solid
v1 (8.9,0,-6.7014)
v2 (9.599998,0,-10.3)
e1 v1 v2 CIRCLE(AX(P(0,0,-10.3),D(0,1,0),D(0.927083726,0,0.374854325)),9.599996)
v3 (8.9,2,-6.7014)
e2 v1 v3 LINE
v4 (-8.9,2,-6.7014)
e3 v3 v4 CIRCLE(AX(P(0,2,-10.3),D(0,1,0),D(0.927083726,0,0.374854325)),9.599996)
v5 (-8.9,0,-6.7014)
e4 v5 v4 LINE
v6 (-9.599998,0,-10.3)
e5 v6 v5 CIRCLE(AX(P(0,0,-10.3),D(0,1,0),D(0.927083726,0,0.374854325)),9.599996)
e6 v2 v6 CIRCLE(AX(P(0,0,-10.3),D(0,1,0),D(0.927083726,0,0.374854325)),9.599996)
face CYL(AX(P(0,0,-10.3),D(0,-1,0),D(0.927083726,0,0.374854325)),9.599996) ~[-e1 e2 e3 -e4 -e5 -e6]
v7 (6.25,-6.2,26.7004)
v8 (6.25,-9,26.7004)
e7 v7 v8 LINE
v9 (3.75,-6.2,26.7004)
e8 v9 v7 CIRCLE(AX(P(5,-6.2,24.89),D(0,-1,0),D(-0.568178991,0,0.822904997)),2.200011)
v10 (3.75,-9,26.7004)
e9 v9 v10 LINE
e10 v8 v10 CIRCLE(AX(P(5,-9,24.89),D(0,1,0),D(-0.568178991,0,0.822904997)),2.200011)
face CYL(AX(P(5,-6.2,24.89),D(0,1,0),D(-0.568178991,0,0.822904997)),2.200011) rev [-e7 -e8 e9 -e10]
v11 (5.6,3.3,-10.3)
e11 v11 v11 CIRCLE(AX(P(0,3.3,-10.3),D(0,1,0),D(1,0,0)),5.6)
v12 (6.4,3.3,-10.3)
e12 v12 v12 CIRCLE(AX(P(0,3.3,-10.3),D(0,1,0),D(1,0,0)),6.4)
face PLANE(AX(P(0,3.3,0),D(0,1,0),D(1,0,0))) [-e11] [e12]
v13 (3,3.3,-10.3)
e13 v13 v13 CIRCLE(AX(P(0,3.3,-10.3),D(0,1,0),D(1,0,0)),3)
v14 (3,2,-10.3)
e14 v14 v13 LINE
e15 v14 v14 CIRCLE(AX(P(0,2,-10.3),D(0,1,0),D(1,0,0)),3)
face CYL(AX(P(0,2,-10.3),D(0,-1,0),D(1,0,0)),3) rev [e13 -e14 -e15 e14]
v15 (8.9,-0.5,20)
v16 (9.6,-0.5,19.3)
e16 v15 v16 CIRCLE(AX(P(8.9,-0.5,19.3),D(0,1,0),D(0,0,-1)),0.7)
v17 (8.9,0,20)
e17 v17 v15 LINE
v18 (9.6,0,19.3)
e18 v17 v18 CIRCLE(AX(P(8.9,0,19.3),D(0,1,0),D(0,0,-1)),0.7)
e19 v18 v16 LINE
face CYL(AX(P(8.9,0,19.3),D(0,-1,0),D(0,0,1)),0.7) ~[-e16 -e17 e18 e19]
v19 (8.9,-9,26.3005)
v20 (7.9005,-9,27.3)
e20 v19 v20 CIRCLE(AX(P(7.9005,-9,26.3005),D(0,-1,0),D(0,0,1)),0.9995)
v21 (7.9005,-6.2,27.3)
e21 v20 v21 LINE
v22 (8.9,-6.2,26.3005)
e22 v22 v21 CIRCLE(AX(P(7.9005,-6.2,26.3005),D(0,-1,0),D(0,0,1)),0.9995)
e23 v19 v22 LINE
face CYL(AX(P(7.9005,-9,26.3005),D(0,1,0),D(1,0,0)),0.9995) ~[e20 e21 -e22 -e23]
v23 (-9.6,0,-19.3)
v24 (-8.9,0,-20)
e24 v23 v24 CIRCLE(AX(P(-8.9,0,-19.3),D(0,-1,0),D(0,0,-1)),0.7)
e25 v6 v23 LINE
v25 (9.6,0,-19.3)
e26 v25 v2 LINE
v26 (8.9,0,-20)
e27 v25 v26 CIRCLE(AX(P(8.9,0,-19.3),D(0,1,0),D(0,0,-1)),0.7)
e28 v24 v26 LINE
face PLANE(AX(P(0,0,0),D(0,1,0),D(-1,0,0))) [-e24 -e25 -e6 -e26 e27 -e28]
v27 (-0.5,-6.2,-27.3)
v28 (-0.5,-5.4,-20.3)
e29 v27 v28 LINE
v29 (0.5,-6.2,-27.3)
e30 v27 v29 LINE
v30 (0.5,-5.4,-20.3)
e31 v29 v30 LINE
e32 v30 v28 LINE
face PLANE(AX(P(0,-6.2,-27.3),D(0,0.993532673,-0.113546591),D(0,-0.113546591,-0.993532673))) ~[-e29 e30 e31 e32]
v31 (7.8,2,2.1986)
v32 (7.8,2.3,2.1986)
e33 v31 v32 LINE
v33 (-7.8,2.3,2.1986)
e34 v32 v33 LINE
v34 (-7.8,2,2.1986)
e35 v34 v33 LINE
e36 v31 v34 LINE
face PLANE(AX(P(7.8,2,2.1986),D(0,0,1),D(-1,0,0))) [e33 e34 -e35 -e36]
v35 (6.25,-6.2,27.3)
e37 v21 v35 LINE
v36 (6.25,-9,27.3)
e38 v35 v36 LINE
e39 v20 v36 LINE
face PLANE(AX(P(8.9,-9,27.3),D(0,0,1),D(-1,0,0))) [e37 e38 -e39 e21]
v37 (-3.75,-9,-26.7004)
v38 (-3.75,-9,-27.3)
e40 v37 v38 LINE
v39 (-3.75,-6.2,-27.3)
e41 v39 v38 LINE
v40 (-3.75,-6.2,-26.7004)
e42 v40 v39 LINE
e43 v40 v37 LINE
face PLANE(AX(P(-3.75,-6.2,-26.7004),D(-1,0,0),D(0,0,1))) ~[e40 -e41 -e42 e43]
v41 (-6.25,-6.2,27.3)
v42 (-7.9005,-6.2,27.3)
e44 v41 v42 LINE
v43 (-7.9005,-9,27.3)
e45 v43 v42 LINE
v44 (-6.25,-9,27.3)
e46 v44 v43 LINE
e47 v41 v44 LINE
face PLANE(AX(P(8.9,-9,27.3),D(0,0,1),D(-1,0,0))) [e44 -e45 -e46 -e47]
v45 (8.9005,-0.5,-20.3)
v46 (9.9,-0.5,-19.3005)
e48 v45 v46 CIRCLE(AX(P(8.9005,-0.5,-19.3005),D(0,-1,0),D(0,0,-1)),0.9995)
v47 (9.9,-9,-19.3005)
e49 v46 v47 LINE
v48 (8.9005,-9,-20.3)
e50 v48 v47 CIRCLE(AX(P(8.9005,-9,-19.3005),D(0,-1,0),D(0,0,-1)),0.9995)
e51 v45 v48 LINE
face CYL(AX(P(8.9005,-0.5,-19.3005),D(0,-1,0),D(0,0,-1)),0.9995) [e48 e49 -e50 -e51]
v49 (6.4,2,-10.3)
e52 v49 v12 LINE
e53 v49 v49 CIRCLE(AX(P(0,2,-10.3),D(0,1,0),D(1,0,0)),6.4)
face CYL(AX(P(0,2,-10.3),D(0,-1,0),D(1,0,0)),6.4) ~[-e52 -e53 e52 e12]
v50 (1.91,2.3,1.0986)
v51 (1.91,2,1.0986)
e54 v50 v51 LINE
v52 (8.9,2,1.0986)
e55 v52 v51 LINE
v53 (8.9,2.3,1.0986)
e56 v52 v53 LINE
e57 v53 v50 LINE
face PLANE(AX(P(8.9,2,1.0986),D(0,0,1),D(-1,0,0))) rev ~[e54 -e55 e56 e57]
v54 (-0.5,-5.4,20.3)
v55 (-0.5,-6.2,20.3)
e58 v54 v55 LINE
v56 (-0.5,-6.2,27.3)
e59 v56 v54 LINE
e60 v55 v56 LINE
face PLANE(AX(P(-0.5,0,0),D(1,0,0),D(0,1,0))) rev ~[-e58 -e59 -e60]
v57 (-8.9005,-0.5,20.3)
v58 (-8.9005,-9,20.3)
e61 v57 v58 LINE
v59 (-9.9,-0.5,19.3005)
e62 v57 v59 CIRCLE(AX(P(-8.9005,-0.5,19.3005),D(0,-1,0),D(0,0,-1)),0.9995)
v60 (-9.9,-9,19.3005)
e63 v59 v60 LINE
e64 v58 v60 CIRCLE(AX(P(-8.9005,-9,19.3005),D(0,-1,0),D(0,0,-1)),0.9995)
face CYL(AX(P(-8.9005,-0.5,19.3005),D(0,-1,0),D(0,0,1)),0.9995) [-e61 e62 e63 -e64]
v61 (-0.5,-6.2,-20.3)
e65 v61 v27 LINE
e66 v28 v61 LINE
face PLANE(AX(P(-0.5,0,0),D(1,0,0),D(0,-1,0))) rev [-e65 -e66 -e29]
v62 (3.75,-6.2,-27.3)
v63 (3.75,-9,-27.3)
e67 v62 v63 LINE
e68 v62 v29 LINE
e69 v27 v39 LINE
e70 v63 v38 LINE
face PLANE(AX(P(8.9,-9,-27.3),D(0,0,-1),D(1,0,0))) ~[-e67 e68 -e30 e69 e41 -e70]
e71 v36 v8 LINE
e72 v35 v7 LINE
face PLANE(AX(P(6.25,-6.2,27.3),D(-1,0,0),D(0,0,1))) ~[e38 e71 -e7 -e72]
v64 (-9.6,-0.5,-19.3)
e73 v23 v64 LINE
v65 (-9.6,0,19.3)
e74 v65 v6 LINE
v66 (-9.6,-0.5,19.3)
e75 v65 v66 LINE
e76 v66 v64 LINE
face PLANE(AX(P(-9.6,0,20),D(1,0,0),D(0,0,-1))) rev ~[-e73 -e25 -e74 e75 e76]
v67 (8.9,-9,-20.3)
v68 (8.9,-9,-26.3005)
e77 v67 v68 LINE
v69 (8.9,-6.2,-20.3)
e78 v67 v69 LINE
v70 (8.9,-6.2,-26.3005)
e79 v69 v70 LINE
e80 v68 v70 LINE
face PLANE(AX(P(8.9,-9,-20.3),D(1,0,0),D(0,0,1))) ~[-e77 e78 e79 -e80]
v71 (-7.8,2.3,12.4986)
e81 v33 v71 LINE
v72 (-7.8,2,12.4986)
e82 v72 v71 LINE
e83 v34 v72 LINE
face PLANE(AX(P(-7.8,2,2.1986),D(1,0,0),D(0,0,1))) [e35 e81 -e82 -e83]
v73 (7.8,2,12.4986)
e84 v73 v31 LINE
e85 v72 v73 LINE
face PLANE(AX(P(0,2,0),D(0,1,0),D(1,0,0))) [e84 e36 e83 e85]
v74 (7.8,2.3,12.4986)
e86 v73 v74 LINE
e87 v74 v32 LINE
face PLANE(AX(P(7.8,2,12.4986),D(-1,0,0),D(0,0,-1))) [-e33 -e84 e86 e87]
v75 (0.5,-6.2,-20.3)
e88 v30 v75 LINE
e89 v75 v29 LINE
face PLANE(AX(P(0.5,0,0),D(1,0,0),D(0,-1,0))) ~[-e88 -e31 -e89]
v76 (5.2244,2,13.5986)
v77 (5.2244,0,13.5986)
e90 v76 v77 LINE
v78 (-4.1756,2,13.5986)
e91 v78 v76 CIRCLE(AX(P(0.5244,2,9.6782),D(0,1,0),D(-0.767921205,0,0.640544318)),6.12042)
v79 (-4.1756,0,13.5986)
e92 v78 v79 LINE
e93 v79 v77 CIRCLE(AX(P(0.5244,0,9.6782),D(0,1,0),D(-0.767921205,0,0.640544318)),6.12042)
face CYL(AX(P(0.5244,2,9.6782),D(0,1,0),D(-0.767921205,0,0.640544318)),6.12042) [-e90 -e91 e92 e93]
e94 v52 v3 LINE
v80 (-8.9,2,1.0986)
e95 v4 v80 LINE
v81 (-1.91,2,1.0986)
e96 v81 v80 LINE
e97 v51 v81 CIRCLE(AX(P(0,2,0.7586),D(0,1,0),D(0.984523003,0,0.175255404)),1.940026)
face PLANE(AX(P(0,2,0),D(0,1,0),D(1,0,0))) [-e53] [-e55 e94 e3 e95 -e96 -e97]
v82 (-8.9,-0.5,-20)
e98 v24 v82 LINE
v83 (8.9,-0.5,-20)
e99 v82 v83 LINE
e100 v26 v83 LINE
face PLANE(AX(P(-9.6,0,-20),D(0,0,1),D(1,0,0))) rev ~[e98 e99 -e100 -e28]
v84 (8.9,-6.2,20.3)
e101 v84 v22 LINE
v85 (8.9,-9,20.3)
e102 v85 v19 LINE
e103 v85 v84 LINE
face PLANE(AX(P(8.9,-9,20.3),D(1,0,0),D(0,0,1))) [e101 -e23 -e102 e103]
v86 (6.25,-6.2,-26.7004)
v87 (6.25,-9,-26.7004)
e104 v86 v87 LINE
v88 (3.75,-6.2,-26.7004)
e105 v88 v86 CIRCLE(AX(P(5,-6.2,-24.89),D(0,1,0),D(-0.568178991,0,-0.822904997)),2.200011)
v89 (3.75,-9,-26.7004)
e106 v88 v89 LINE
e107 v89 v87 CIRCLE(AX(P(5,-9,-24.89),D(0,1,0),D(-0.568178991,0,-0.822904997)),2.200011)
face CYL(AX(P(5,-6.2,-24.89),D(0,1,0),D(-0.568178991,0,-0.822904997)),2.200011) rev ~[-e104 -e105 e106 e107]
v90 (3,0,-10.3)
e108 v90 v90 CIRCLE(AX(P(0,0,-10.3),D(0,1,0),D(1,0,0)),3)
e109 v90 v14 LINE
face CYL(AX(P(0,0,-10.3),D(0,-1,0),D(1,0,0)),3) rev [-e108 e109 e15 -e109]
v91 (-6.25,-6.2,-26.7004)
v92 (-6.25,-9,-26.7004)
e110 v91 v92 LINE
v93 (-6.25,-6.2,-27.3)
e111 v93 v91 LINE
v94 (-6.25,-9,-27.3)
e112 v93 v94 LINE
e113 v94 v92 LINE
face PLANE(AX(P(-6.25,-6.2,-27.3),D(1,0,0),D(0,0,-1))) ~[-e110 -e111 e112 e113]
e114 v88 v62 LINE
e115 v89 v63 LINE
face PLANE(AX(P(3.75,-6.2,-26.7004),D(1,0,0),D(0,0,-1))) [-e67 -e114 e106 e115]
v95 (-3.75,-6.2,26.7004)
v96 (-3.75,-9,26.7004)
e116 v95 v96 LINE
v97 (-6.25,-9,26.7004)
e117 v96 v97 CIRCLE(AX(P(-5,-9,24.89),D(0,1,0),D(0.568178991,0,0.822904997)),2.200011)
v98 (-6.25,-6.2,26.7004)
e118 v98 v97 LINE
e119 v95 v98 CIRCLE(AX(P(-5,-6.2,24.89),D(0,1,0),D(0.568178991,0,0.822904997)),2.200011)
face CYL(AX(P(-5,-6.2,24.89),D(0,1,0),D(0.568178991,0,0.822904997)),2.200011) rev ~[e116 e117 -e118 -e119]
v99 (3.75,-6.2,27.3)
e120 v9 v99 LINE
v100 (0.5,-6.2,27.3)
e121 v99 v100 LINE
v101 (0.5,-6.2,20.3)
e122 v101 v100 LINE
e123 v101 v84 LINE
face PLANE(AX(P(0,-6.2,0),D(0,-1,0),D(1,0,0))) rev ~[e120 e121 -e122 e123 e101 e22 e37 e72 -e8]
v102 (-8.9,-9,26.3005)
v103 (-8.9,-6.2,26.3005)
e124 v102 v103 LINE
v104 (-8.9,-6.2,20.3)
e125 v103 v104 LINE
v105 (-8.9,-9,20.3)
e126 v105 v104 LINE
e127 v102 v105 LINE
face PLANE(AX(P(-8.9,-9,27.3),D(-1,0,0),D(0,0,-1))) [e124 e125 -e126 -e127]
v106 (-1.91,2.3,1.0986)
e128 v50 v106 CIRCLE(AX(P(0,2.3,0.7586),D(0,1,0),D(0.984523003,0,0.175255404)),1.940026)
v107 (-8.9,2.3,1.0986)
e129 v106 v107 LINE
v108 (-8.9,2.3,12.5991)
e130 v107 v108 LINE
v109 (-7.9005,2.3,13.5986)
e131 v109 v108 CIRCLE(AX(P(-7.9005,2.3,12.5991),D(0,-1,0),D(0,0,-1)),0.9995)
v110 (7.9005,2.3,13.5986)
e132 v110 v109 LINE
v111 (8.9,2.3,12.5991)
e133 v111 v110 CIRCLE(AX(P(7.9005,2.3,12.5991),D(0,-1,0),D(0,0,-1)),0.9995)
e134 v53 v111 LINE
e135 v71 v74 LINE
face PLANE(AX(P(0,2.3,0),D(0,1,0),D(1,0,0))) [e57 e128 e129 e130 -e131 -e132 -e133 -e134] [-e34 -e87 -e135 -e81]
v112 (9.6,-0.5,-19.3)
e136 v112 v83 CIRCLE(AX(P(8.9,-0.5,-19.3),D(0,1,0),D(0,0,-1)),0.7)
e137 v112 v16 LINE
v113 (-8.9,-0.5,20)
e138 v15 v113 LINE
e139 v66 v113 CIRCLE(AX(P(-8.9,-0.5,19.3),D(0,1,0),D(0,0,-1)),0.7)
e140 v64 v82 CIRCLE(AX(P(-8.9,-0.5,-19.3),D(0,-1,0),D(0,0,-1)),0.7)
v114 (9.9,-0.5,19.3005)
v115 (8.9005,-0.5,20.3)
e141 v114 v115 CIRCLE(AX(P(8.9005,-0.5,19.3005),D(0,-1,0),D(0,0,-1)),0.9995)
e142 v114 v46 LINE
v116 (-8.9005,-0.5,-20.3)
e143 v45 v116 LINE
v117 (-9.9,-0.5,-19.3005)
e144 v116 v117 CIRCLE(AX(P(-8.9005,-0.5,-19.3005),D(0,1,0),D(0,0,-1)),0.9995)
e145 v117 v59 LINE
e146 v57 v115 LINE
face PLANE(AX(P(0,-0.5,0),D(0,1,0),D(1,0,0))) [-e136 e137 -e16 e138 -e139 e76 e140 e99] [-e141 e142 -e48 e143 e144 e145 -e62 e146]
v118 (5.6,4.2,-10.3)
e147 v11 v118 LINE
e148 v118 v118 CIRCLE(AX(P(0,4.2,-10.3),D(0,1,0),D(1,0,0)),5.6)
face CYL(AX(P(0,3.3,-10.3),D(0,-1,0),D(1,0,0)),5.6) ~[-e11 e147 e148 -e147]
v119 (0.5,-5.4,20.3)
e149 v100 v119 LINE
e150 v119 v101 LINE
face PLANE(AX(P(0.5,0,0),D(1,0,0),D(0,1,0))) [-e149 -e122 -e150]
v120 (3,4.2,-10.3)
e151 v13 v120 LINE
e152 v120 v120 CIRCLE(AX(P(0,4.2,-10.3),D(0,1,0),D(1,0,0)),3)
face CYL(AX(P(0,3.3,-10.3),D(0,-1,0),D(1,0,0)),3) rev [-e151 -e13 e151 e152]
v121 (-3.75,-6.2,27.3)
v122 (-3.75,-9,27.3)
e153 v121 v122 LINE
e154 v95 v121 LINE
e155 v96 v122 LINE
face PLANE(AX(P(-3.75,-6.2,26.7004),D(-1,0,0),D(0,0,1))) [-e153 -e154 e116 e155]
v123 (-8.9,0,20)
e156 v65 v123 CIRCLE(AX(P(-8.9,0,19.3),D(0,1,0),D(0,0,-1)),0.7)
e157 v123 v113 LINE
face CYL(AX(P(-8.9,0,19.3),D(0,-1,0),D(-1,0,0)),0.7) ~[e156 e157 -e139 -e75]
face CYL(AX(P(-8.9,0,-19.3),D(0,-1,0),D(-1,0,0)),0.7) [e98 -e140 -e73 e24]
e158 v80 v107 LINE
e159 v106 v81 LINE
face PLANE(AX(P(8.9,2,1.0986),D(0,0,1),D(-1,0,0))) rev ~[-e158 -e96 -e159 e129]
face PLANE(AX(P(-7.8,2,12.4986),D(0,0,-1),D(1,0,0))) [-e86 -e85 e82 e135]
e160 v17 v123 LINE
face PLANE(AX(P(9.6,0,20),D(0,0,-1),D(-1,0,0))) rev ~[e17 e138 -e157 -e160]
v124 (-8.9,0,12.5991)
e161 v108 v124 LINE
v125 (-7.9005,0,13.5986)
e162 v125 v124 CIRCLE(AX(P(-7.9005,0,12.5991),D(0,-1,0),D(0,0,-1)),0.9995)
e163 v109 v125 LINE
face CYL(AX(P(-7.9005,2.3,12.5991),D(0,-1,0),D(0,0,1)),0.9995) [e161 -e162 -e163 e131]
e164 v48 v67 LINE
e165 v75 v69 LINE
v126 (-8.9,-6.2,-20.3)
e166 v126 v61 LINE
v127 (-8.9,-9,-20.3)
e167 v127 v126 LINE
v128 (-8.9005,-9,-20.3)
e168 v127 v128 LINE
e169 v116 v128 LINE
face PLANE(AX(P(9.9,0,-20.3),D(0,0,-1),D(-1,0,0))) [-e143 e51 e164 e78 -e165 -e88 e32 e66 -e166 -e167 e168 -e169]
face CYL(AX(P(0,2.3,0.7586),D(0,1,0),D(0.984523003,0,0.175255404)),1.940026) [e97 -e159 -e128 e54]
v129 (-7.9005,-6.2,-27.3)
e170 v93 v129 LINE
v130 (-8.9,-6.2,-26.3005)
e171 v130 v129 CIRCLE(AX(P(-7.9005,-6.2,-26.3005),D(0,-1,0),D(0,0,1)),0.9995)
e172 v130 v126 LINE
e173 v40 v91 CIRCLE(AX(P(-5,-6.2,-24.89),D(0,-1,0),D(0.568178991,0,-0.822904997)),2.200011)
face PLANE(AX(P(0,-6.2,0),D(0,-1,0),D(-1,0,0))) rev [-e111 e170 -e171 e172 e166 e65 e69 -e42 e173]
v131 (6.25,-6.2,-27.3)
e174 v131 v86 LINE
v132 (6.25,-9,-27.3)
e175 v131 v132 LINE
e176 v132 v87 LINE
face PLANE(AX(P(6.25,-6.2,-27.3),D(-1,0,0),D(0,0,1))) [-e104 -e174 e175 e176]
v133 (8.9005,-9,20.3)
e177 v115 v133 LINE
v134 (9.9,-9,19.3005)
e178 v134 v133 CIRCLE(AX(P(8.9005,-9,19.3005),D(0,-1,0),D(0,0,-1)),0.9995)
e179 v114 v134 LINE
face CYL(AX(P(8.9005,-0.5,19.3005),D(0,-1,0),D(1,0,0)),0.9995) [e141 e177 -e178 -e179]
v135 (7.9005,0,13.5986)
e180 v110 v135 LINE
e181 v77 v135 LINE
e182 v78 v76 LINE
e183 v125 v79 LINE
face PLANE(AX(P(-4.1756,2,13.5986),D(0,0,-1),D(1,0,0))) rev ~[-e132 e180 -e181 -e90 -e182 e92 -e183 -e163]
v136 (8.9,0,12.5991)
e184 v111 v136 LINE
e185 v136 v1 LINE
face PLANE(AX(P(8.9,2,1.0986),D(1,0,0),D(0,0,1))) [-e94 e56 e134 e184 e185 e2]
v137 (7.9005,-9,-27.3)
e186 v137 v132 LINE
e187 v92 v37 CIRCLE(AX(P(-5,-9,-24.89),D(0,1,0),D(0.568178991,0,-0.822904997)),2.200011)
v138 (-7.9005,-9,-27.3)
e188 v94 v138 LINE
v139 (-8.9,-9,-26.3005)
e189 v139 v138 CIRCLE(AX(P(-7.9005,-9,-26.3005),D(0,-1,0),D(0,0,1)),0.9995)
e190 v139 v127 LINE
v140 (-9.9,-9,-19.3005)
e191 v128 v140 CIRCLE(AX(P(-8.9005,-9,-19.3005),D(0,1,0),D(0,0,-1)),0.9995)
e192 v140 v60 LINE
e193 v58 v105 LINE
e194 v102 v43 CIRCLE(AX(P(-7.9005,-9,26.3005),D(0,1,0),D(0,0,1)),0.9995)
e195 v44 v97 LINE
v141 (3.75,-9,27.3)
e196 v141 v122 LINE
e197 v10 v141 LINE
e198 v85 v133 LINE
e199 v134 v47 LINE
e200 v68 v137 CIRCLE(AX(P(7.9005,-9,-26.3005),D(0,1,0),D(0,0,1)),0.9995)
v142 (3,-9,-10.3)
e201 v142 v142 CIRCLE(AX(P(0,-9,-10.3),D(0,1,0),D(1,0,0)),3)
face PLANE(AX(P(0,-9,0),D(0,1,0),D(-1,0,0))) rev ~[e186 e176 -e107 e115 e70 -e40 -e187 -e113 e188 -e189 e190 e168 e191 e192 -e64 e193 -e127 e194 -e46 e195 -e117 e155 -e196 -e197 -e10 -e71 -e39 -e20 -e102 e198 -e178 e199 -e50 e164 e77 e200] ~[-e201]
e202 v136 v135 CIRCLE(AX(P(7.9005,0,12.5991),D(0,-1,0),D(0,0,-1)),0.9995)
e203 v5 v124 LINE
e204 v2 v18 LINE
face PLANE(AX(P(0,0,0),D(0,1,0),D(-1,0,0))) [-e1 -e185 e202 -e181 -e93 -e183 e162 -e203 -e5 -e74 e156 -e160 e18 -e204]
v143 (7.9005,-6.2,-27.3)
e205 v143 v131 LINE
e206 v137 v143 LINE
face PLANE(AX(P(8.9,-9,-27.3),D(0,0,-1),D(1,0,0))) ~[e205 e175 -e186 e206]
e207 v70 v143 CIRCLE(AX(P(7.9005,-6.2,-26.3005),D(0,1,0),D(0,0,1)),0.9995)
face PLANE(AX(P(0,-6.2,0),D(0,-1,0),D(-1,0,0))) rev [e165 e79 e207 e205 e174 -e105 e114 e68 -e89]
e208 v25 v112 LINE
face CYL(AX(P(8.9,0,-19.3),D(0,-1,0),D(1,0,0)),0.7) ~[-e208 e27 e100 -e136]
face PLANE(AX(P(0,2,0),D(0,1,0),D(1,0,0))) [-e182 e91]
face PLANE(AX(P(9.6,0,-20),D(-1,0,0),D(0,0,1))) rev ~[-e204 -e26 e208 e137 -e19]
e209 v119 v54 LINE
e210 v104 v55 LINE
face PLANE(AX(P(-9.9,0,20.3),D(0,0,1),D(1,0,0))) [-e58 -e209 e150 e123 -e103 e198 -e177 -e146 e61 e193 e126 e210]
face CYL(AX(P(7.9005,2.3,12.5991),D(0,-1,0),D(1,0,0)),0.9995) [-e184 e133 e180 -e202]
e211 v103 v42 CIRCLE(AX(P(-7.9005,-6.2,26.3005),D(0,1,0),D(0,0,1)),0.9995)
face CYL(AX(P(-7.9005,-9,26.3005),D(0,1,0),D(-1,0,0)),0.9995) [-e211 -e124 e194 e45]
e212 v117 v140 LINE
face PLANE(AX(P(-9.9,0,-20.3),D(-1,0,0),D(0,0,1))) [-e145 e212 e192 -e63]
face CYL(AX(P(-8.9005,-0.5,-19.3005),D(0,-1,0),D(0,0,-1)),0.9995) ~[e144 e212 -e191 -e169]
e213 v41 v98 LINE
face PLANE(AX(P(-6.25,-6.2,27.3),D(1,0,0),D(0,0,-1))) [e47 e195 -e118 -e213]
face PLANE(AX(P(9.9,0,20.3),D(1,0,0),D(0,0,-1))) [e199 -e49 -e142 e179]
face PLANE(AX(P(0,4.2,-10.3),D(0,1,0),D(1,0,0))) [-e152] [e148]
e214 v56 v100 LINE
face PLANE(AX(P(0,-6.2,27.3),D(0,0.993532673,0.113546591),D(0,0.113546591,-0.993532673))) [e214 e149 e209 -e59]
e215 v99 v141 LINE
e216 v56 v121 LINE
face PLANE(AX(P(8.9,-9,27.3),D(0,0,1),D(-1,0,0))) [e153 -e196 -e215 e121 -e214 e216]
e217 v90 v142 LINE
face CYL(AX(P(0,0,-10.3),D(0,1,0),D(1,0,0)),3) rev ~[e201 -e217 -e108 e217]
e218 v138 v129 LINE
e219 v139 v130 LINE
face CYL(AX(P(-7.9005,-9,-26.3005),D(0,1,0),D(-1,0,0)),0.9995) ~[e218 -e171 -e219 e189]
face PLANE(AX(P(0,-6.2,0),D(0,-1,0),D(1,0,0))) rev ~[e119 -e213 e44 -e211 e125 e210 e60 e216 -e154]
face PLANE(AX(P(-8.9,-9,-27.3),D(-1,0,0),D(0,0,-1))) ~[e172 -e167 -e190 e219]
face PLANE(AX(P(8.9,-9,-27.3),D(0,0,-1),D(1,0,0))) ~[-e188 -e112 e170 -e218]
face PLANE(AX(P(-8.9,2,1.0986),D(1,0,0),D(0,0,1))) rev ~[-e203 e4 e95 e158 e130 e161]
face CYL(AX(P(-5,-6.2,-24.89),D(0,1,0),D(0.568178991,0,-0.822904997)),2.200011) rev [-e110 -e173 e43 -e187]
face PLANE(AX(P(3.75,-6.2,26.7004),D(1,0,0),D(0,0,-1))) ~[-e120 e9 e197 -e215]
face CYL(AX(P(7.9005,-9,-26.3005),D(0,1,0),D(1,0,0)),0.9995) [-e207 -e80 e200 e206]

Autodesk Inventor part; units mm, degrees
ref_plane "YZ Plane" through (0, 0, 0) normal (1, 0, 0) x (0, 1, 0)
ref_plane "XZ Plane" through (0, 0, 0) normal (0, 1, 0) x (-1, 0, 0)
ref_plane "XY Plane" through (0, 0, 0) normal (0, 0, 1) x (1, 0, 0)
sketch "Boceto1" plane through (0, 0, 0) normal (0, 1, 0) x (-1, 0, 0)
  line L0 (9.9, 20.3) -> (-9.9, 20.3)
  line L1 (-9.9, 20.3) -> (-9.9, -20.3)
  line L2 (-9.9, -20.3) -> (9.9, -20.3)
  line L3 (9.9, -20.3) -> (9.9, 20.3)
  line L4 (9.9, 20.3) -> (-9.9, -20.3) construction
  line L5 (-9.9, 20.3) -> (9.9, -20.3) construction
  point P0 (0, 0)
  dimension "d0" = 19.8
  dimension "d1" = 40.6
extrude "Extrusión1" add sketch "Boceto1" against normal blind 9
sketch "Boceto2" plane through (0, 0, 0) normal (0, 1, 0) x (1, 0, 0)
  circle A0 centre (0, 10.3) radius 3
  line L0 (9.9, 20.3) -> (-9.9, 20.3) projected
  point P0 (0, 0)
  dimension "d4" = 6
  dimension "d5" = 10
extrude "Extrusión2" cut sketch "Boceto2" against normal through all
sketch "Boceto5" plane through (0, -9, 0) normal (0, -1, 0) x (1, 0, 0)
  line L0 (-8.9, 20.3) -> (8.9, 20.3)
  line L1 (8.9, 20.3) -> (8.9, 27.3)
  line L2 (8.9, 27.3) -> (-8.9, 27.3)
  line L3 (-8.9, 27.3) -> (-8.9, 20.3)
  line L4 (-8.9, 20.3) -> (8.9, 27.3) construction
  line L5 (8.9, 20.3) -> (-8.9, 27.3) construction
  line L6 (-9.9, 27.3) -> (9.9, 27.3)
  line L7 (9.9, 20.3) -> (-9.9, 20.3) projected
  point P0 (0, 0)
  point P1 (0, 0)
  point P2 (0, 23.8)
  dimension "d23" = 17.8
  dimension "d24" = 7
extrude "Extrusión5" add sketch "Boceto5" against normal blind 2.8
sketch "Boceto6" plane through (0, -6.2, 0) normal (0, 1, 0) x (1, 0, 0)
  arc A0 (-3.75, -26.7004) -> (-6.25, -26.7004) centre (-5, -24.89) ccw
  line L0 (-8.9, -27.3) -> (8.9, -27.3)
  line L1 (-3.75, -27.3) -> (-6.25, -27.3)
  line L2 (-6.25, -27.3) -> (-6.25, -26.7)
  line L3 (-3.75, -26.7) -> (-3.75, -27.3)
  line L4 (0, -27.3) -> (0, -23.9124)
  line L5 (-8.9, -20.3) -> (-8.9, -27.3)
  line L6 (-8.9, -20.3) -> (8.9, -20.3) projected
  line L7 (-8.3229, -20.3) -> (8.9, -20.3)
  line L8 (8.9, -20.3) -> (8.9, -27.3)
  point P0 (0, 0)
  point P1 (0, 0)
  dimension "d27" = 4.4
  dimension "d28" = 2.41
  dimension "d29" = 5
  dimension "d30" = 2.65
  dimension "d31" = 0.6
extrude "Extrusión6" cut sketch "Boceto6" against normal through all contours L3 L0 L2 A0
sketch "Boceto8" plane through (0, 0, 0) normal (1, 0, 0) x (0, 1, 0)
  line L0 (-6.2, 27.3) -> (-5.4, 20.3)
  line L1 (-5.4, 20.3) -> (-6.2, 20.3)
  line L2 (-6.2, 20.3) -> (-6.2, 27.3)
  point P0 (0, 0)
  dimension "d34" = 0.8
extrude "Extrusión7" add sketch "Boceto8" along normal mid plane 1
mirror "Simetría3" about plane through (0, 0, 0) normal (1, 0, 0) of "Extrusión6"
mirror "Simetría4" about plane through (0, 0, 0) normal (0, 0, 1) of "Extrusión5", "Extrusión6", "Simetría3", "Extrusión7"
sketch "Boceto9" plane through (0, 0, 0) normal (0, 1, 0) x (1, 0, 0)
  circle A0 centre (0, 10.3) radius 3 projected
  line L0 (-8.9, -13.5986) -> (8.9, -13.5986)
  line L1 (8.9, -13.5986) -> (8.9, 6.7014)
  line L2 (-8.9, 6.7014) -> (-8.9, -13.5986)
  line L3 (-8.9, -13.5986) -> (5.885, 8.9919) construction
  line L4 (8.9, -13.5986) -> (-5.885, 8.9919) construction
  arc A1 (8.9, 6.7014) -> (-8.9, 6.7014) centre (0, 10.3) ccw
  line L5 (9.9, 20.3) -> (-9.9, 20.3) projected
  point P0 (0, 0)
  dimension "d40" = 9.6
  dimension "d42" = 20.3
  dimension "d61" = 17.8
extrude "Extrusión8" add sketch "Boceto9" along normal blind 2
sketch "Boceto11" plane through (0, 2, 0) normal (0, 1, 0) x (1, 0, 0)
  line L0 (-8.9, -13.5986) -> (8.9, -13.5986) projected
  line L1 (5.2244, -15.7986) -> (5.2244, -13.5986)
  arc A0 (-4.1756, -13.5986) -> (5.2244, -13.5986) centre (0.5244, -9.6782) ccw
  line L2 (-4.1756, -13.5986) -> (5.2244, -13.5986)
  point P0 (0, 0)
  dimension "d50" = 2.2
  dimension "d51" = 9.4
extrude "Extrusión9" add sketch "Boceto11" against normal blind 2
sketch "Boceto12" plane through (0, 2, 0) normal (0, 1, 0) x (1, 0, 0)
  circle A0 centre (0, 10.3) radius 6.4
  circle A1 centre (0, 10.3) radius 3 projected
  point P0 (0, 0)
  dimension "d54" = 12.8
extrude "Extrusión10" add sketch "Boceto12" along normal blind 1.3
sketch "Boceto13" plane through (0, 3.3, -10.3) normal (0, 1, 0) x (1, 0, 0)
  circle A0 centre (0, 0) radius 5.6
  circle A1 centre (0, 0) radius 3 projected
  point P0 (0, -10.3)
  dimension "d57" = 11.2
extrude "Extrusión11" add sketch "Boceto13" along normal blind 0.9
sketch "Boceto15" plane through (0, 2, 0) normal (0, 1, 0) x (1, 0, 0)
  line L0 (8.9, 6.7014) -> (8.9, -13.5986) projected
  line L1 (-8.9, -13.5986) -> (8.9, -13.5986)
  line L2 (8.9, -13.5986) -> (8.9, -1.0986)
  line L3 (8.9, -1.0986) -> (-8.9, -1.0986)
  line L4 (-8.9, -1.0986) -> (-8.9, -13.5986)
  line L5 (-8.9, -13.5986) -> (8.9, -1.0986) construction
  line L6 (8.9, -13.5986) -> (-8.9, -1.0986) construction
  line L7 (-8.9, -13.5986) -> (-4.1756, -13.5986) projected
  line L8 (-7.8, -12.4986) -> (7.8, -12.4986)
  line L9 (7.8, -12.4986) -> (7.8, -2.1986)
  line L10 (7.8, -2.1986) -> (-7.8, -2.1986)
  line L11 (-7.8, -2.1986) -> (-7.8, -12.4986)
  point P0 (0, 0)
  point P1 (0, -7.3486)
  dimension "d62" = 12.5
  dimension "d63" = 1.1
extrude "Extrusión12" add sketch "Boceto15" along normal blind 0.3
sketch "Boceto16" plane through (0, 2.3, 0) normal (0, 1, 0) x (1, 0, 0)
  arc A0 (1.91, -1.0986) -> (-1.91, -1.0986) centre (0, -0.7586) ccw
  line L0 (-7.8, -2.1986) -> (7.8, -2.1986) projected
  line L1 (8.9, -1.0986) -> (-8.9, -1.0986) projected
  point P0 (0, 0)
  dimension "d66" = 3.88
  dimension "d67" = 1.44
extrude "Extrusión13" add sketch "Boceto16" against normal blind 0.3
sketch "Boceto17" plane through (0, 0, 0) normal (0, 1, 0) x (1, 0, 0)
  line L0 (-9.9, 20.3) -> (-9.9, -20.3) projected
  line L1 (9.9, -20.3) -> (9.9, 20.3) projected
  line L2 (-9.9, -20.3) -> (9.9, -20.3) projected
  line L3 (9.9, 20.3) -> (-9.9, 20.3) projected
  line L4 (-9.6, -20) -> (-9.6, 20)
  line L5 (-9.6, 20) -> (9.6, 20)
  line L6 (9.6, 20) -> (9.6, -20)
  line L7 (9.6, -20) -> (-9.6, -20)
  point P0 (0, 0)
  dimension "d70" = 0.3
extrude "Extrusión14" cut sketch "Boceto17" against normal blind 0.5
fillet "Empalme1" radius 1 10 edges at (9.9, -4.75, 20.3) (8.9, -7.6, 27.3) (-8.9, -7.6, 27.3) (-9.9, -4.75, 20.3) (8.9, 1.15, 13.5986) (-8.9, 1.15, 13.5986) (9.9, -4.75, -20.3) (-9.9, -4.75, -20.3) (-8.9, -7.6, -27.3) (8.9, -7.6, -27.3)
fillet "Empalme2" radius 0.7 4 edges at (9.6, -0.25, 20) (-9.6, -0.25, 20) (9.6, -0.25, -20) (-9.6, -0.25, -20)
sketch "Boceto18" plane through (0, 2, 0) normal (0, 1, 0) x (1, 0, 0)
  point P0 (0, 0)
properties part number "Top" material "Plástico ABS"
